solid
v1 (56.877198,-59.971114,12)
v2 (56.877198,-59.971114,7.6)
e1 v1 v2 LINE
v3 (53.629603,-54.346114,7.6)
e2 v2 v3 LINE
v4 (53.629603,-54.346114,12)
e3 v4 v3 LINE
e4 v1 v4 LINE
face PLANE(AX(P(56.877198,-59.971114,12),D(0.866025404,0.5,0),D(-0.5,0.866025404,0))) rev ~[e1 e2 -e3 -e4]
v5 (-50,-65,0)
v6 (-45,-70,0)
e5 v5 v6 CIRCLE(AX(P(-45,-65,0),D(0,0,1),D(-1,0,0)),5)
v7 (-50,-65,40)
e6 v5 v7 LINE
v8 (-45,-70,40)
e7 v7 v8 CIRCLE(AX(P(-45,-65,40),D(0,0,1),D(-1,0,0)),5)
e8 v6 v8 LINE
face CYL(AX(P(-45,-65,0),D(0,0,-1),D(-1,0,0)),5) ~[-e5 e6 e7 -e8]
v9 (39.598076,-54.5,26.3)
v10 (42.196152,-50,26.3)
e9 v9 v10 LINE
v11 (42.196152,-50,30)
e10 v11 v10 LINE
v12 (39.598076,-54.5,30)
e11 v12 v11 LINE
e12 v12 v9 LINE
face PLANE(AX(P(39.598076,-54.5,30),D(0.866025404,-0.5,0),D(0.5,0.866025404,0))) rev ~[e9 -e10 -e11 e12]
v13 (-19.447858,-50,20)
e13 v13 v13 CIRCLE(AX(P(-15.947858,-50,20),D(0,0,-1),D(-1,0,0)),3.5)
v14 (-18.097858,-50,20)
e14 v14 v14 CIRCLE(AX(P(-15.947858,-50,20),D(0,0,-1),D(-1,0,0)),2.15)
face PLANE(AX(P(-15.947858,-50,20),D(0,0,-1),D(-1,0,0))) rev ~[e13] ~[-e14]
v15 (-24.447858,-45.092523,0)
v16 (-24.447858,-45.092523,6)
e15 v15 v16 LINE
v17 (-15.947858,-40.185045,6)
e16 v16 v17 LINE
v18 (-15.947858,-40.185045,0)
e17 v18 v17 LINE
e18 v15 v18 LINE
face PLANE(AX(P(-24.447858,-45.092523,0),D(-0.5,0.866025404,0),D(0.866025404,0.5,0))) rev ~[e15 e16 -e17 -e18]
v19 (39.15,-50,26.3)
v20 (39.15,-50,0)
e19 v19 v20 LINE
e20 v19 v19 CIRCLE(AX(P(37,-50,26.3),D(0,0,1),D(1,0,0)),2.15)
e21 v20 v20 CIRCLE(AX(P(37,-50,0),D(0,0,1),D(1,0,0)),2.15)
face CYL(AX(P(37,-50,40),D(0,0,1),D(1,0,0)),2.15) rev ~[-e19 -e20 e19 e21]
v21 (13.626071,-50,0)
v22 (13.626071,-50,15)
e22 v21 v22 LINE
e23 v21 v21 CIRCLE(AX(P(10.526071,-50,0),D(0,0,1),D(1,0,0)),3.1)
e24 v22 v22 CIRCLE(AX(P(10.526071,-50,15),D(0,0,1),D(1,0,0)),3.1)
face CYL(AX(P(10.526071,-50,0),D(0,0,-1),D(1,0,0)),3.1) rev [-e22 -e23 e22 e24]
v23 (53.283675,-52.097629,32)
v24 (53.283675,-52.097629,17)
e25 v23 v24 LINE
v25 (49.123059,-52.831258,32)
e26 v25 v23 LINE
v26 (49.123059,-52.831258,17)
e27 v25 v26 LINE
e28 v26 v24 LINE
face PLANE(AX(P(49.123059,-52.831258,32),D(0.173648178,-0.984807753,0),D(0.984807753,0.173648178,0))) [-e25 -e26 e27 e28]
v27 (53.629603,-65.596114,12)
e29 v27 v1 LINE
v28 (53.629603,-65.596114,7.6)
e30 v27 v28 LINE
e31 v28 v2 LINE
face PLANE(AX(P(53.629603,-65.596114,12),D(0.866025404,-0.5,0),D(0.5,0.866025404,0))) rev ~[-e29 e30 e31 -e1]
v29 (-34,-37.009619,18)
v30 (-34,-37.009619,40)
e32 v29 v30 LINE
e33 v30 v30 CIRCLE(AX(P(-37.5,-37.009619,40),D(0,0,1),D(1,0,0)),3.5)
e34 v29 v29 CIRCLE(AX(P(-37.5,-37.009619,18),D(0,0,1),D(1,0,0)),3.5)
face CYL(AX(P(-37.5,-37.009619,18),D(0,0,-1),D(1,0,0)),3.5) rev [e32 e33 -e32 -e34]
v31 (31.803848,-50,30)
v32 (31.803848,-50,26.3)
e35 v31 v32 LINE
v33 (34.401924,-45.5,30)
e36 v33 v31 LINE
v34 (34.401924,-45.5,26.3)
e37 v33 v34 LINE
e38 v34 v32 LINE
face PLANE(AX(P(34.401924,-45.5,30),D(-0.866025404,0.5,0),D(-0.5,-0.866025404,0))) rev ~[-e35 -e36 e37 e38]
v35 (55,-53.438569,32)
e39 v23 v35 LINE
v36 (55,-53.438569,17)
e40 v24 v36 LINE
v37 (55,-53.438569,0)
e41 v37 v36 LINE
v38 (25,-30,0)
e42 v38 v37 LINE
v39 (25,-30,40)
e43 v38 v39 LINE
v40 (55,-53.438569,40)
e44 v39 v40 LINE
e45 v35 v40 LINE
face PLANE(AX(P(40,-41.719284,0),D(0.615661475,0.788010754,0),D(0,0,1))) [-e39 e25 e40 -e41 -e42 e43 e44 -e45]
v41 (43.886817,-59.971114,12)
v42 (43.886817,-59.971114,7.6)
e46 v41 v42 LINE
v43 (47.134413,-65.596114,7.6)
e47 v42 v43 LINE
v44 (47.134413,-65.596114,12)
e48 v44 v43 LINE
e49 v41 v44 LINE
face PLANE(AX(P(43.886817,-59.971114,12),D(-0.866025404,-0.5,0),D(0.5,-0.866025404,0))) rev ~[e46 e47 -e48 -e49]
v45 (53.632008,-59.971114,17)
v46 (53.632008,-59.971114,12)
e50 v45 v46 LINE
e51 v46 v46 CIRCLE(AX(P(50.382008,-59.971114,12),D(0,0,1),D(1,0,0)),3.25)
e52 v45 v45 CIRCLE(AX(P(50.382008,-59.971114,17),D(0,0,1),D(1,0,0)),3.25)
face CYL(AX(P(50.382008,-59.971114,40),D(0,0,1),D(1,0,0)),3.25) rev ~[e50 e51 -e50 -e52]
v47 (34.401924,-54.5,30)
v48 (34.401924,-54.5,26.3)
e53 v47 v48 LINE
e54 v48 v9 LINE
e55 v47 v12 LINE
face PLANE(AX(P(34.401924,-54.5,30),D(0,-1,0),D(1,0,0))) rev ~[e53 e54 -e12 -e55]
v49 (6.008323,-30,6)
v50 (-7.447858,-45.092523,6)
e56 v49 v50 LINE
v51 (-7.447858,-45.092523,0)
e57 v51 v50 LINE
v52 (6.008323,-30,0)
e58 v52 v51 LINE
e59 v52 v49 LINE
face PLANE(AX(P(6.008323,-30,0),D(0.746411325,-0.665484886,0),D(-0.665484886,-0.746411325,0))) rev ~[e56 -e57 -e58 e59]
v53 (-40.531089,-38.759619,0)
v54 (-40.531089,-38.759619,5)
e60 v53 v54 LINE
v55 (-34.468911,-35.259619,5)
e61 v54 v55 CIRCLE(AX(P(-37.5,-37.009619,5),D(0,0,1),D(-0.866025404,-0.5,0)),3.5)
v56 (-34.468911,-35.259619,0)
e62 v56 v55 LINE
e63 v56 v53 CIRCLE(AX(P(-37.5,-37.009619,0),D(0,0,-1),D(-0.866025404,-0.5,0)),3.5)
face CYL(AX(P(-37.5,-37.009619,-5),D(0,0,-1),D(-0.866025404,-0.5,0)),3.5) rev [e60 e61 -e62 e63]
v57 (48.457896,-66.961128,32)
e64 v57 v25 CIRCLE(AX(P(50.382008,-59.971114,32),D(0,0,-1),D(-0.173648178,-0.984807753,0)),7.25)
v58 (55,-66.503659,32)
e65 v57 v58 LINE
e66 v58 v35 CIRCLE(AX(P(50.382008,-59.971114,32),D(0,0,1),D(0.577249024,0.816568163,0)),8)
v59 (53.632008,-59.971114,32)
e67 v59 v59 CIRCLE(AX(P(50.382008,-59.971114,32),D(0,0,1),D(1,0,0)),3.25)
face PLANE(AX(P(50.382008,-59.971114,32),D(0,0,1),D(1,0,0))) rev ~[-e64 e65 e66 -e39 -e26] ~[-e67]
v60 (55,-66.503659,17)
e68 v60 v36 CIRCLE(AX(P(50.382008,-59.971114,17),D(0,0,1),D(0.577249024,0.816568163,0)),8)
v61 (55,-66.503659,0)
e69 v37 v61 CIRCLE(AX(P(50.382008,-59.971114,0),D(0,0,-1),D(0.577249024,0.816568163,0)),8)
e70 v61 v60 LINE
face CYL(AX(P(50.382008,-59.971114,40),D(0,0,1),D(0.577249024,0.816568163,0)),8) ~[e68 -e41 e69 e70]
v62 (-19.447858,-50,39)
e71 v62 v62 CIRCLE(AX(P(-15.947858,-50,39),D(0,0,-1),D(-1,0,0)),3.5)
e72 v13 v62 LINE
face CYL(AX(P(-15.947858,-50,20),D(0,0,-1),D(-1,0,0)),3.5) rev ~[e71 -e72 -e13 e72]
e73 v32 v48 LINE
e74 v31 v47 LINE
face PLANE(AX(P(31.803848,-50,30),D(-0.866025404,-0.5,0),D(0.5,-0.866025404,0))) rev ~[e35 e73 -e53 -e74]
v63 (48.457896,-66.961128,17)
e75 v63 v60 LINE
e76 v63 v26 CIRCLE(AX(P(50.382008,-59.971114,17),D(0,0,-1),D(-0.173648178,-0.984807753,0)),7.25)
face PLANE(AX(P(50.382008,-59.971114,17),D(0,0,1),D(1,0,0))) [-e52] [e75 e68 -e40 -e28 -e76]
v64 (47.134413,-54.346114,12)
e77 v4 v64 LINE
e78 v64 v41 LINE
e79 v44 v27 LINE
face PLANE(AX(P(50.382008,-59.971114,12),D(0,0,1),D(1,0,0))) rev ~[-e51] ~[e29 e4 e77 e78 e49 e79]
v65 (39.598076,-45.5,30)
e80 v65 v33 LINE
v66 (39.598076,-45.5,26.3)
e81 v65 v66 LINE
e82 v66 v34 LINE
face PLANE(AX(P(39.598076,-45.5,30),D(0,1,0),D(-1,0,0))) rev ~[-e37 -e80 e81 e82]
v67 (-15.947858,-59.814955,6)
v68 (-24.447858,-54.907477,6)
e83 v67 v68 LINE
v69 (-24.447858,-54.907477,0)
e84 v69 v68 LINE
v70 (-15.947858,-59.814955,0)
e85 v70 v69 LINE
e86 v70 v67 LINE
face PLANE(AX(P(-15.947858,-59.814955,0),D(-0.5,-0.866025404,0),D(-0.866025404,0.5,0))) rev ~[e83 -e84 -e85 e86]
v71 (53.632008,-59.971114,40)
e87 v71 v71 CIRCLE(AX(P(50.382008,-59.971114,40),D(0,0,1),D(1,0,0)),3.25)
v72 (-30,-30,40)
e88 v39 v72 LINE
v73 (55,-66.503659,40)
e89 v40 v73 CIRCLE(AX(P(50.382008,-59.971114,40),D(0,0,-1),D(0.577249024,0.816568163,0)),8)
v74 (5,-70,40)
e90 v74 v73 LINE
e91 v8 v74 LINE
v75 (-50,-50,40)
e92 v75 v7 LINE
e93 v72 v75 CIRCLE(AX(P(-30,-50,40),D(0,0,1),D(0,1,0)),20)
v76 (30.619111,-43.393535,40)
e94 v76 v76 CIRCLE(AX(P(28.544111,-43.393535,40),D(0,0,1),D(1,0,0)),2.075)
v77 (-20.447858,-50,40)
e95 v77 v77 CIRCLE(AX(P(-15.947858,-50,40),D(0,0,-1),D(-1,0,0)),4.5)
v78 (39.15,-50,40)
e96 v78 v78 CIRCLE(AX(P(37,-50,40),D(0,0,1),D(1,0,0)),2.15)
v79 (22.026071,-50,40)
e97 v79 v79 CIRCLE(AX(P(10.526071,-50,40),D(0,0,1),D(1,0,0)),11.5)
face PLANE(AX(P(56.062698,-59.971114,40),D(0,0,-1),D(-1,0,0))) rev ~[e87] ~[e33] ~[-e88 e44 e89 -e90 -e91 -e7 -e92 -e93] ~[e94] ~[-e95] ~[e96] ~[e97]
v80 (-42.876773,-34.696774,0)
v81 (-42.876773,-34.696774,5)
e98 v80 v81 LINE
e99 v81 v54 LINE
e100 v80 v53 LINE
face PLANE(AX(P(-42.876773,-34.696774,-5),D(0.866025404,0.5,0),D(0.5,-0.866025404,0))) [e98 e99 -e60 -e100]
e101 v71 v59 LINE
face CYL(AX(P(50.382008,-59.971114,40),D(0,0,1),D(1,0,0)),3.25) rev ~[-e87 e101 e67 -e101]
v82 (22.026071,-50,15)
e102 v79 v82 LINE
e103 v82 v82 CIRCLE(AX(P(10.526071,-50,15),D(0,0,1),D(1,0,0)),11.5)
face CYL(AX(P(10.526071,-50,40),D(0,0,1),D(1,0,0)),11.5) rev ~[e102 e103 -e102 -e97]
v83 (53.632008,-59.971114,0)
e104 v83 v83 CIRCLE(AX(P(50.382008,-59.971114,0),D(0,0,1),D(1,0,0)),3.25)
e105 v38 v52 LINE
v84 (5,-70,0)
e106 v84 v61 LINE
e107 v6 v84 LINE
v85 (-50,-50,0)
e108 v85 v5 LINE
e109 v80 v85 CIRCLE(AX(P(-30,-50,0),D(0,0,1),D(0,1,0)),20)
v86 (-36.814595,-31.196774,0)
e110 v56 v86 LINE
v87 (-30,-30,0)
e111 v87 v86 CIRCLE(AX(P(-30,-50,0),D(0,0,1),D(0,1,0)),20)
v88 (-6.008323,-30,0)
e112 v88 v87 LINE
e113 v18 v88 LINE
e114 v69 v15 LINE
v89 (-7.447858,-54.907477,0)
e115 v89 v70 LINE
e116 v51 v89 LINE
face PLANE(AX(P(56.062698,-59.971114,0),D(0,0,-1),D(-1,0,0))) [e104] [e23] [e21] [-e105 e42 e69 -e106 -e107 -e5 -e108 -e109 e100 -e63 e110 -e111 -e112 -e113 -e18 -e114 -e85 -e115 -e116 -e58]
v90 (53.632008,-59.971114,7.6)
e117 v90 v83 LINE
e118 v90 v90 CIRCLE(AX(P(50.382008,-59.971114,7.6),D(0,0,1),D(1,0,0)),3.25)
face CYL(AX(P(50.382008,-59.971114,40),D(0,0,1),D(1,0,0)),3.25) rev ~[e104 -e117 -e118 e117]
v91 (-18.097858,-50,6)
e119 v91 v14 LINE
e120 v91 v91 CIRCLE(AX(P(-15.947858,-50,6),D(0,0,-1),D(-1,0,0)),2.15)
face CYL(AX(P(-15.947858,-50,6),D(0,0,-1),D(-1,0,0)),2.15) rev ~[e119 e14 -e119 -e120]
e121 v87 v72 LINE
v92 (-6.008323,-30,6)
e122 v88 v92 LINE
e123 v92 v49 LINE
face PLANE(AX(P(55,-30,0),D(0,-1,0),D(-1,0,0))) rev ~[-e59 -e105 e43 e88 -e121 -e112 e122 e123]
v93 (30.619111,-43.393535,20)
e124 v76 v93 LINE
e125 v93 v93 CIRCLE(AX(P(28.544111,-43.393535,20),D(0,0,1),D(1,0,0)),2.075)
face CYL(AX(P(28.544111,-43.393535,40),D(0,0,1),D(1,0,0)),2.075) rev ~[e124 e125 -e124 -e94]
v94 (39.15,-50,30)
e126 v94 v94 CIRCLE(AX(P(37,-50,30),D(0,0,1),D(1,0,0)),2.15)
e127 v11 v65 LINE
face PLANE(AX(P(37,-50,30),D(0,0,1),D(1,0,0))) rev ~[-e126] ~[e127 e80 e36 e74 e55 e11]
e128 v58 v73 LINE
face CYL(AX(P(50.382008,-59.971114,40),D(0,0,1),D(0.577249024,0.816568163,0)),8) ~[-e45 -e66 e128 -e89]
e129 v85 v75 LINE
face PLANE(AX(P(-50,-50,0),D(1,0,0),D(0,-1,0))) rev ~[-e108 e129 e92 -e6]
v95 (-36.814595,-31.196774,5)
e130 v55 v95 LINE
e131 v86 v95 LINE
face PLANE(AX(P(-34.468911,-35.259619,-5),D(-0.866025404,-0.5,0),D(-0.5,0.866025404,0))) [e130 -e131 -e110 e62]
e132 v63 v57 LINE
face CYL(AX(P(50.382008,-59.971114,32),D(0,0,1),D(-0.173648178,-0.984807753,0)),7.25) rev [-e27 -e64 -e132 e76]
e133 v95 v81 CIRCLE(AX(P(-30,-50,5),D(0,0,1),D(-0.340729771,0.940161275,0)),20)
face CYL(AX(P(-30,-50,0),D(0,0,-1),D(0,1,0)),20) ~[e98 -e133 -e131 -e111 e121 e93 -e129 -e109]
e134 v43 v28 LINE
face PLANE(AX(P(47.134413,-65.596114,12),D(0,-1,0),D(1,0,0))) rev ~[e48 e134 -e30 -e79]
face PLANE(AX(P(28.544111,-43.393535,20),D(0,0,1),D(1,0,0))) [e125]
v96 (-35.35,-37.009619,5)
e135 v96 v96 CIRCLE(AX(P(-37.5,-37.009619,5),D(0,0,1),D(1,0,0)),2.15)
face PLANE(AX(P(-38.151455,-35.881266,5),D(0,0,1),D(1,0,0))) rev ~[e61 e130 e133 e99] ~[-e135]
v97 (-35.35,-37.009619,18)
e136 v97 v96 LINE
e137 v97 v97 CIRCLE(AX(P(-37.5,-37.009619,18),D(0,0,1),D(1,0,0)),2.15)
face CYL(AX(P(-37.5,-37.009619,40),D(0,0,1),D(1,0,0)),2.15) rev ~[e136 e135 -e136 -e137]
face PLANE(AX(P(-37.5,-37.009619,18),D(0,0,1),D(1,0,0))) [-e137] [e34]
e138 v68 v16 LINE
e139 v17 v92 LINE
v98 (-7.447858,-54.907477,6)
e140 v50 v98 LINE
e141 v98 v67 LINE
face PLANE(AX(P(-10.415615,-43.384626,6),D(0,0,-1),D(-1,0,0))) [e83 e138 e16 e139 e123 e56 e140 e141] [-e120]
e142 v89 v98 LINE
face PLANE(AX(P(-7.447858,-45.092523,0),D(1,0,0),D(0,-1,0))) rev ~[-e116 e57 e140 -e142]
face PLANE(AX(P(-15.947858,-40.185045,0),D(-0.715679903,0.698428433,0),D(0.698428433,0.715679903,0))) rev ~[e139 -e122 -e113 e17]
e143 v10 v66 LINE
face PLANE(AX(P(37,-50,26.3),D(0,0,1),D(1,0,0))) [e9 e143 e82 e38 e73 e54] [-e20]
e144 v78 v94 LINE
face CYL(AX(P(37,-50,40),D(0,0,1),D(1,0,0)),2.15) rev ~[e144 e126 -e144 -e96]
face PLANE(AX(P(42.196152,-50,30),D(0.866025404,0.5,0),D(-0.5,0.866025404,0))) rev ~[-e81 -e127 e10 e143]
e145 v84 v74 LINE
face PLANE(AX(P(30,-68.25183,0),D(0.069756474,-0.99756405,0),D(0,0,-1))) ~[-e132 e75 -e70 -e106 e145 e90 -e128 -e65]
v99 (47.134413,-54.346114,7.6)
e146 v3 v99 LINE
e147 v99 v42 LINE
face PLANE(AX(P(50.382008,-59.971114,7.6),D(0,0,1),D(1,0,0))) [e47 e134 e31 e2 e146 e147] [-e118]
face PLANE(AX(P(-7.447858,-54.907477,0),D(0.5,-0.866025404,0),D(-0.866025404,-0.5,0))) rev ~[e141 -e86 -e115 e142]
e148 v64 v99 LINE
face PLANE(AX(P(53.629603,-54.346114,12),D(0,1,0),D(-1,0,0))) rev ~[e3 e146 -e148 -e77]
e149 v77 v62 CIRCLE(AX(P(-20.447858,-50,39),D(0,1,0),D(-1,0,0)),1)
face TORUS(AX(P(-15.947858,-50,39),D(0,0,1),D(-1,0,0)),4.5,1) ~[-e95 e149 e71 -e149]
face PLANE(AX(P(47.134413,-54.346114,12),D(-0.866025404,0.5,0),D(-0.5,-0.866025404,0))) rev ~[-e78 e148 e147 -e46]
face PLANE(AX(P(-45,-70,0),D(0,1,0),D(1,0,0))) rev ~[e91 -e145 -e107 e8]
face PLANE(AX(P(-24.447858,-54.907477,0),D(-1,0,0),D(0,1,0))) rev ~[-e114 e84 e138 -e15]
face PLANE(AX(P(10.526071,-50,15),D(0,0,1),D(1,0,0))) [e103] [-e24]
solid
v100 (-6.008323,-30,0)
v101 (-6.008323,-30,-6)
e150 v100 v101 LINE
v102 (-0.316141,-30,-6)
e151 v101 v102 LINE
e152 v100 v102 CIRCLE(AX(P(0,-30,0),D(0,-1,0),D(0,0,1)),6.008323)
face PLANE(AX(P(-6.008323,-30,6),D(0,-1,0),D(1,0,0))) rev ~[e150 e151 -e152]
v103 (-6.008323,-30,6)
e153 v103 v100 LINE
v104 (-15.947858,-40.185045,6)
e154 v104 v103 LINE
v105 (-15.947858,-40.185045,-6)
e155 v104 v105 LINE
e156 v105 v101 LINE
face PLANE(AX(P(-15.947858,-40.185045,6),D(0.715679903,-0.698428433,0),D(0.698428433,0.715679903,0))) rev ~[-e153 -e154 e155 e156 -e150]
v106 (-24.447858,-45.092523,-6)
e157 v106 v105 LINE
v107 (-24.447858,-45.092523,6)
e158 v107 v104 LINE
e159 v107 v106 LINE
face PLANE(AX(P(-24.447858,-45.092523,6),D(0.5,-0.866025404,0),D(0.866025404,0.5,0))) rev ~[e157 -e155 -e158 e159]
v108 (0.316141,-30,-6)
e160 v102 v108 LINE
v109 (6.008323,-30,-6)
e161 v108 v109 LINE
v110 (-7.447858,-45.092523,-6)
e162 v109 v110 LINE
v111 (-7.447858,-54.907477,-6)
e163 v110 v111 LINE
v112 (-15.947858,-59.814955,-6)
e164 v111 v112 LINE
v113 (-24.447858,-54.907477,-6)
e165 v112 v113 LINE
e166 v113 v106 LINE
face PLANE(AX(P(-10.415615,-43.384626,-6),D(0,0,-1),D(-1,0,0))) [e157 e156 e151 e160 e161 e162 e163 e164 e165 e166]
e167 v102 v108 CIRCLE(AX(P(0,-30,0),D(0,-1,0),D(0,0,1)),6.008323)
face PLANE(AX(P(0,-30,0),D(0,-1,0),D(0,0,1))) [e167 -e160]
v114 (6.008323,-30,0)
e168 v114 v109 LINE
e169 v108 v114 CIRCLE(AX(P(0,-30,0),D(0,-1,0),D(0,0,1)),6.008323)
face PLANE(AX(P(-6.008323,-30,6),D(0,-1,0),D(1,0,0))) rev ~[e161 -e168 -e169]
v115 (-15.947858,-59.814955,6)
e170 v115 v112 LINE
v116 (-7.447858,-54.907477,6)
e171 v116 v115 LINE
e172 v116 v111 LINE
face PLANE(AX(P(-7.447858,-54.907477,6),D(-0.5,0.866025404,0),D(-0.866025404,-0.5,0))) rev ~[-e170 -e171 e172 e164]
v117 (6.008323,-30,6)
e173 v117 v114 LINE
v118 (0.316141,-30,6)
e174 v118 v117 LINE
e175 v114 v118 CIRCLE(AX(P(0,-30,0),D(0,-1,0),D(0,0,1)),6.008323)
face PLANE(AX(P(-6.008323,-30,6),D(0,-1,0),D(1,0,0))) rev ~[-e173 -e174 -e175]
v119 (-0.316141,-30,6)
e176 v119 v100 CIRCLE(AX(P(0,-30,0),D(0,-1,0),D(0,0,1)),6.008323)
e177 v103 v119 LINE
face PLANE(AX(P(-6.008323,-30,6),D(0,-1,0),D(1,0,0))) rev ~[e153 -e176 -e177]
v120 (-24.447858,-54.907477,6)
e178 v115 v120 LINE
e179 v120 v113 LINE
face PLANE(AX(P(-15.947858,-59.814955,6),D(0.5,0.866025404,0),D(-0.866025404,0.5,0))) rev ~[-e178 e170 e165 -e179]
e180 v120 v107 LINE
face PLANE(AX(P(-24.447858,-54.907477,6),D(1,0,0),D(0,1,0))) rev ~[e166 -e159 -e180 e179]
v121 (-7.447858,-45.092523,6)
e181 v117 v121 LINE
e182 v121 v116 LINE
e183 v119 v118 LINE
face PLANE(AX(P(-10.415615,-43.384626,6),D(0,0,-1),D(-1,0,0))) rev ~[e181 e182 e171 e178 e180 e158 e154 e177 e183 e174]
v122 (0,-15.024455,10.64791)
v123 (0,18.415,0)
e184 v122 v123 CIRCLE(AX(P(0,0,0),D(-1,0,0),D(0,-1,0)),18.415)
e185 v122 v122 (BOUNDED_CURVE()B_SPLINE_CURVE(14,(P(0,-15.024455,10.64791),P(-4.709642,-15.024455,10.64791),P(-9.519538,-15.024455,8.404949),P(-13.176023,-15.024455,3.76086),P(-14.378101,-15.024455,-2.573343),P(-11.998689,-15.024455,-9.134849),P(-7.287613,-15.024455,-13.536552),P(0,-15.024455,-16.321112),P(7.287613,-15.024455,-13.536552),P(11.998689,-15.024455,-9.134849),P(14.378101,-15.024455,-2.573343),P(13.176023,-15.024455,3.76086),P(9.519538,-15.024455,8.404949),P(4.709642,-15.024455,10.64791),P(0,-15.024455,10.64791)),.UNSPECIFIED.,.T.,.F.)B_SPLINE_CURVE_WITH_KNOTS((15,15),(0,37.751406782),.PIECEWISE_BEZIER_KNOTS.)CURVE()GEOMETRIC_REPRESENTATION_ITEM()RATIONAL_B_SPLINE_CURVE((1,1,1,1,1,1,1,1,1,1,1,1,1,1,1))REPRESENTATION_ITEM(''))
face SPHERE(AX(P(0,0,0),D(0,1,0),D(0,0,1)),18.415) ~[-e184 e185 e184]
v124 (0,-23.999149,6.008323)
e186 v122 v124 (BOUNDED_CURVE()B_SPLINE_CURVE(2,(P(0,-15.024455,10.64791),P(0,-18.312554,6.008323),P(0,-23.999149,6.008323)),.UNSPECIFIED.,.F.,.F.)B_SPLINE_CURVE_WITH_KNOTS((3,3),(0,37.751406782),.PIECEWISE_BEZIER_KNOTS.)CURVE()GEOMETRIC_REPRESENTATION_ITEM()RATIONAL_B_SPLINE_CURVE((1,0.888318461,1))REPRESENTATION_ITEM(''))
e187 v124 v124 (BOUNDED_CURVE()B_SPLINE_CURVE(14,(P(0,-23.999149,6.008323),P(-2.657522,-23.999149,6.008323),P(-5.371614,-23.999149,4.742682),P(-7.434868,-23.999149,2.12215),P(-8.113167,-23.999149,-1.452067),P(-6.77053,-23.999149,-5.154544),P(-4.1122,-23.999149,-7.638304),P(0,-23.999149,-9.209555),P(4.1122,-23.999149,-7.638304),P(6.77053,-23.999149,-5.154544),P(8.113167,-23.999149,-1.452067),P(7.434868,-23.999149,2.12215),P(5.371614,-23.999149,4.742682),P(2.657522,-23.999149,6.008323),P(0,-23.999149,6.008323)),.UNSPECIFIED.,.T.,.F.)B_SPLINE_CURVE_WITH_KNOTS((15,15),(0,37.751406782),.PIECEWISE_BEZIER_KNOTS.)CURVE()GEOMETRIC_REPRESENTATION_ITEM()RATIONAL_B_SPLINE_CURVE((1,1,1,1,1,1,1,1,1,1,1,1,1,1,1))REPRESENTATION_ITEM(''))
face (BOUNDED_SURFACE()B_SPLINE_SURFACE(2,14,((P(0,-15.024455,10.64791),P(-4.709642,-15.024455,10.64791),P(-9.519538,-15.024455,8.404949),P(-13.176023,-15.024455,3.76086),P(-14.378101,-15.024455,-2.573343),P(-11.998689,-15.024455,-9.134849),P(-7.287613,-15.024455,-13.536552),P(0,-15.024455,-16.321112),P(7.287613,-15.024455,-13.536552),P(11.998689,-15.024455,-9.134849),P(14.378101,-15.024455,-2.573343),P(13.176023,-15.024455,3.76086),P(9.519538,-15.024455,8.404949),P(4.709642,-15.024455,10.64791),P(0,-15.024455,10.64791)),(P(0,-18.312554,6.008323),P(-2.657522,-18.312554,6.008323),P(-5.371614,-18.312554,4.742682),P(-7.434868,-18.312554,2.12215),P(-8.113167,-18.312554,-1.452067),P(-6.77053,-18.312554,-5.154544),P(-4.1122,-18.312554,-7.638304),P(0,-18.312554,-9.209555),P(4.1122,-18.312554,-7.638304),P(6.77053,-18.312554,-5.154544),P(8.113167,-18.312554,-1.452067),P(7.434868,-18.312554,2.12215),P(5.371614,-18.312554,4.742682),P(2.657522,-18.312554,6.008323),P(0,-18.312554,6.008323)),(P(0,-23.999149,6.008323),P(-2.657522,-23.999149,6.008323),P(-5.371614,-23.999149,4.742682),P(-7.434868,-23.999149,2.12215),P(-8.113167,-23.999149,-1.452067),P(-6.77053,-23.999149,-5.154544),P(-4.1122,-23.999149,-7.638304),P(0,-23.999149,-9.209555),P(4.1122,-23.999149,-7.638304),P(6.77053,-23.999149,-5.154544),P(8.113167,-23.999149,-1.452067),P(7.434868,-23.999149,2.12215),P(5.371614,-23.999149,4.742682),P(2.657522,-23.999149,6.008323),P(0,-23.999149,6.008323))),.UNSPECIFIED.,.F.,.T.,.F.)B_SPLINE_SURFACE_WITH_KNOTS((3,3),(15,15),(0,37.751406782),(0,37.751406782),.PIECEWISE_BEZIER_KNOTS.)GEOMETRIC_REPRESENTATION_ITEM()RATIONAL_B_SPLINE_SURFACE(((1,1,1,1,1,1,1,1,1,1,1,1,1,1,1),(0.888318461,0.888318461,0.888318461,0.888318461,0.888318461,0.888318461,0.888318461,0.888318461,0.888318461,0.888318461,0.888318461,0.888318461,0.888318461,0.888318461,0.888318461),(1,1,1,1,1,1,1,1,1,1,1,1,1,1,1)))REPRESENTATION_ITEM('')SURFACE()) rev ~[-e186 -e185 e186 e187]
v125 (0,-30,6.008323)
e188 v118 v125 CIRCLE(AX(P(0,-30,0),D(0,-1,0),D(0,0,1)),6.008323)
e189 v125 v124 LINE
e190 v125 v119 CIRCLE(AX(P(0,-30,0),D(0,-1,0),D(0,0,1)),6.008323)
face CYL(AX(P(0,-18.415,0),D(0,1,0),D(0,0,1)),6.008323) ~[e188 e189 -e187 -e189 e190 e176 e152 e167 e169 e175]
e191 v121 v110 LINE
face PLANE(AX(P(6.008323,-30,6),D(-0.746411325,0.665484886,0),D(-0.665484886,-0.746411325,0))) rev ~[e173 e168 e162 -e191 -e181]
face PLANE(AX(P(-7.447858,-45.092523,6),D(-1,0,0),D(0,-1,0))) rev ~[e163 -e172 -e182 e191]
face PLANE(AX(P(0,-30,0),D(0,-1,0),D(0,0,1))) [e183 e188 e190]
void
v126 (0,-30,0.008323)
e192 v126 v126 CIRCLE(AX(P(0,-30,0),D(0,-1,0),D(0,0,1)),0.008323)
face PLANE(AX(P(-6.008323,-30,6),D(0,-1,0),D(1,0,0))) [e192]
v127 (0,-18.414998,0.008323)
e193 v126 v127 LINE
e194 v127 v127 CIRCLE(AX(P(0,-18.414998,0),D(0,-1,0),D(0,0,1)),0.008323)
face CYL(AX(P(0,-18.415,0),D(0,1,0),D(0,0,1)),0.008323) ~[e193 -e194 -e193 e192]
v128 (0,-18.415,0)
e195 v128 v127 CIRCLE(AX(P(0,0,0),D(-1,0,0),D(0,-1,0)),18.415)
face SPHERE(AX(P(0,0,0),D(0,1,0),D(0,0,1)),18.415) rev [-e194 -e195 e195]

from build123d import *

# Parameters (mm, degrees)
BOSS_EXTRUDE1_DEPTH      = 40
SKETCH1_7_W              = 6
SKETCH1_7_H              = 23.17
FILLET3_R                = 11
BOSS_EXTRUDE3_DEPTH      = 6
BOSS_EXTRUDE3_DEPTH_BACK = 6
CUT_EXTRUDE2_DEPTH       = 6
SKETCH15_R               = 2.15
CUT_EXTRUDE9_DEPTH       = 14
CUT_EXTRUDE10_START      = -14
SKETCH15_5_R             = 3.5
SKETCH15_5_R_2           = 2.15
CUT_EXTRUDE10_DEPTH      = 24
FILLET8_R                = 1
SKETCH17_R               = 2.15
CUT_EXTRUDE12_DEPTH      = 57
CUT_EXTRUDE13_START      = -10
CUT_EXTRUDE13_DEPTH      = 3.7
CHAMFER1_SIZE            = 30
CHAMFER1_SIZE2           = 23.438568795
CHAMFER2_SIZE            = 50
CHAMFER2_SIZE2           = 3.496340597
SKETCH20_R               = 3.25
BOSS_EXTRUDE4_DEPTH      = 40
SKETCH20_3_R             = 3.25
CUT_EXTRUDE14_DEPTH      = 40
CUT_EXTRUDE16_START      = -8
SKETCH22_R               = 7.25
CUT_EXTRUDE16_DEPTH      = 15
CUT_EXTRUDE17_START      = -28
CUT_EXTRUDE17_DEPTH      = 4.4
CUT_EXTRUDE18_DEPTH      = 5
CUT_EXTRUDE18_DEPTH_BACK = 5
CUT_EXTRUDE18_START      = -40
CUT_EXTRUDE19_START      = -22
SKETCH24_4_R             = 3.5
CUT_EXTRUDE19_DEPTH      = 22
SKETCH24_6_R             = 2.15
CUT_EXTRUDE20_DEPTH      = 42
CUT_EXTRUDE21_START      = -40
SKETCH27_R               = 3.1
CUT_EXTRUDE21_DEPTH      = 15
SKETCH27_3_R             = 11.5
CUT_EXTRUDE22_DEPTH      = 25
SKETCH27_5_R             = 2.075
CUT_EXTRUDE23_DEPTH      = 20


with BuildPart() as part:
    # Sketch1 → Boss-Extrude1 (new body)
    with BuildSketch(Plane.XY):
        with BuildLine():
            Line((55, -30), (15.948877571, -30))
            Line((15.948877571, -30), (-0.008322998, -30))
            Line((-0.008322998, -30), (-6.008322998, -30))
            Line((-6.008322998, -30), (-15.965523568, -30))
            Line((-15.965523568, -30), (-30, -30))
            ThreePointArc((-30, -30), (-44.142135624, -35.857864376), (-50, -50))
            Line((-50, -50), (-50, -65))
            ThreePointArc((-50, -65), (-48.535533906, -68.535533906), (-45, -70))
            Line((-45, -70), (55, -70))
            Line((55, -70), (55, -30))
        make_face()
    extrude(amount=BOSS_EXTRUDE1_DEPTH)

    # Sketch4<2> → Cut-Extrude2 (cut)
    with BuildSketch(Plane(origin=(0, 0, 0), x_dir=(-1, 0, 0), z_dir=(0, 0, -1))):
        Polygon((7.447857811, -45.092522712), (7.447857811, -54.907477288), (15.947857811, -59.814954576), (24.447857811, -54.907477288), (24.447857811, -45.092522712), (15.947857811, -40.185045424), (6.008322998, -30), (-6.008322998, -30), align=None)
    extrude(amount=-CUT_EXTRUDE2_DEPTH, mode=Mode.SUBTRACT)

    # Sketch15 → Cut-Extrude9 (cut)
    with BuildSketch(Plane(origin=(0, 0, 6), x_dir=(-1, 0, 0), z_dir=(0, 0, -1))):
        with Locations((15.947857811, -50)):
            Circle(SKETCH15_R)
    extrude(amount=-CUT_EXTRUDE9_DEPTH, mode=Mode.SUBTRACT)

    # Sketch15<5> → Cut-Extrude10 (cut)
    # profile 1 of 2: a face of its own
    with BuildSketch(Plane(origin=(0, 0, 6), x_dir=(-1, 0, 0), z_dir=(0, 0, -1)).offset(CUT_EXTRUDE10_START)):
        with Locations((15.947857811, -50)):
            Circle(SKETCH15_5_R)
        with Locations((15.947857811, -50)):
            Circle(SKETCH15_5_R_2, mode=Mode.SUBTRACT)
    # profile 2 of 2: a face of its own
    with BuildSketch(Plane(origin=(0, 0, 6), x_dir=(-1, 0, 0), z_dir=(0, 0, -1)).offset(CUT_EXTRUDE10_START)):
        with Locations((15.947857811, -50)):
            Circle(SKETCH15_5_R_2)
    extrude(amount=-CUT_EXTRUDE10_DEPTH, mode=Mode.SUBTRACT)

    # Fillet8
    fillet8_edges = [part.edges().sort_by_distance(p)[0] for p in [
        (-12.447857811, -50, 40),
    ]]
    fillet(fillet8_edges, radius=FILLET8_R)

    # Sketch17 → Cut-Extrude12 (cut)
    with BuildSketch(Plane.XY.offset(40)):
        with Locations((37, -50)):
            Circle(SKETCH17_R)
    extrude(amount=-CUT_EXTRUDE12_DEPTH, mode=Mode.SUBTRACT)

    # Sketch17<4> → Cut-Extrude13 (cut)
    with BuildSketch(Plane.XY.offset(40).offset(CUT_EXTRUDE13_START)):
        Polygon((42.196152423, -50), (39.598076211, -45.5), (34.401923789, -45.5), (31.803847577, -50), (34.401923789, -54.5), (39.598076211, -54.5), align=None)
    extrude(amount=-CUT_EXTRUDE13_DEPTH, mode=Mode.SUBTRACT)

    # Chamfer1
    chamfer1_edges = [part.edges().sort_by_distance(p)[0] for p in [
        (55, -30, 20),
    ]]
    chamfer1_side = [part.faces().sort_by_distance(p)[0] for p in [
        (12.770815955, -30, 20.368309699),
    ]]
    chamfer(chamfer1_edges, length=CHAMFER1_SIZE, length2=CHAMFER1_SIZE2, reference=chamfer1_side[0])

    # Chamfer2
    chamfer2_edges = [part.edges().sort_by_distance(p)[0] for p in [
        (55, -70, 20),
    ]]
    chamfer2_side = [part.faces().sort_by_distance(p)[0] for p in [
        (5, -70, 20),
    ]]
    chamfer(chamfer2_edges, length=CHAMFER2_SIZE, length2=CHAMFER2_SIZE2, reference=chamfer2_side[0])

    # Sketch20 → Boss-Extrude4 (add)
    with BuildSketch(Plane.XY.offset(40)):
        with Locations((50.382007811, -59.971114099)):
            Circle(SKETCH20_R)
        with BuildLine():
            ThreePointArc((55, -53.438568795), (58.382007811, -59.971114099), (55, -66.503659403))
            Line((55, -66.503659403), (55, -53.438568795))
        make_face()
    extrude(amount=-BOSS_EXTRUDE4_DEPTH)

    # Sketch20<3> → Cut-Extrude14 (cut)
    with BuildSketch(Plane.XY.offset(40)):
        with Locations((50.382007811, -59.971114099)):
            Circle(SKETCH20_3_R)
    extrude(amount=-CUT_EXTRUDE14_DEPTH, mode=Mode.SUBTRACT)

    # Sketch22 → Cut-Extrude16 (cut)
    with BuildSketch(Plane.XY.offset(40).offset(CUT_EXTRUDE16_START)):
        with Locations((50.382007811, -59.971114099)):
            Circle(SKETCH22_R)
        with BuildLine():
            Line((49.123058523, -52.83125789), (67.851672672, -49.528897904))
            Line((67.851672672, -49.528897904), (67.851672672, -70.413330294))
            Line((67.851672672, -70.413330294), (49.123058523, -67.110970308))
            ThreePointArc((49.123058523, -67.110970308), (43.132007811, -59.971114099), (49.123058523, -52.83125789))
        make_face()
        Polygon((56.87719834, -59.971114099), (53.629603076, -54.346114099), (47.134412547, -54.346114099), (43.886817283, -59.971114099), (47.134412547, -65.596114099), (53.629603076, -65.596114099), align=None)
    extrude(amount=-CUT_EXTRUDE16_DEPTH, mode=Mode.SUBTRACT)

    # Sketch22<3> → Cut-Extrude17 (cut)
    with BuildSketch(Plane.XY.offset(40).offset(CUT_EXTRUDE17_START)):
        Polygon((56.87719834, -59.971114099), (53.629603076, -54.346114099), (47.134412547, -54.346114099), (43.886817283, -59.971114099), (47.134412547, -65.596114099), (53.629603076, -65.596114099), align=None)
    extrude(amount=-CUT_EXTRUDE17_DEPTH, mode=Mode.SUBTRACT)

    # Sketch24 → Cut-Extrude18 (cut, two sides: drawn at the far end of the back side and taken through both)
    with BuildSketch(Plane.XY.offset(40).offset(CUT_EXTRUDE18_START - CUT_EXTRUDE18_DEPTH_BACK)):
        with BuildLine():
            Line((-34.468911087, -35.259618943), (-36.814595421, -31.196774499))
            ThreePointArc((-36.814595421, -31.196774499), (-40, -32.679491924), (-42.876773247, -34.696774499))
            Line((-42.876773247, -34.696774499), (-40.531088913, -38.759618943))
            ThreePointArc((-40.531088913, -38.759618943), (-35.75, -40.040707856), (-34.468911087, -35.259618943))
        make_face()
    extrude(amount=CUT_EXTRUDE18_DEPTH + CUT_EXTRUDE18_DEPTH_BACK, mode=Mode.SUBTRACT)

    # Sketch24<4> → Cut-Extrude19 (cut)
    with BuildSketch(Plane.XY.offset(40).offset(CUT_EXTRUDE19_START)):
        with Locations((-37.5, -37.009618943)):
            Circle(SKETCH24_4_R)
    extrude(amount=CUT_EXTRUDE19_DEPTH, mode=Mode.SUBTRACT)

    # Sketch24<6> → Cut-Extrude20 (cut)
    with BuildSketch(Plane.XY.offset(40)):
        with Locations((-37.5, -37.009618943)):
            Circle(SKETCH24_6_R)
    extrude(amount=-CUT_EXTRUDE20_DEPTH, mode=Mode.SUBTRACT)

    # Sketch27 → Cut-Extrude21 (cut)
    with BuildSketch(Plane.XY.offset(40).offset(CUT_EXTRUDE21_START)):
        with Locations((10.526071095, -50)):
            Circle(SKETCH27_R)
    extrude(amount=CUT_EXTRUDE21_DEPTH, mode=Mode.SUBTRACT)

    # Sketch27<3> → Cut-Extrude22 (cut)
    with BuildSketch(Plane.XY.offset(40)):
        with Locations((10.526071095, -50)):
            Circle(SKETCH27_3_R)
    extrude(amount=-CUT_EXTRUDE22_DEPTH, mode=Mode.SUBTRACT)

    # Sketch27<5> → Cut-Extrude23 (cut)
    with BuildSketch(Plane.XY.offset(40)):
        with Locations((28.544110647, -43.393535189)):
            Circle(SKETCH27_5_R)
    extrude(amount=-CUT_EXTRUDE23_DEPTH, mode=Mode.SUBTRACT)


with BuildPart() as body_2:
    # Sketch1<7> → Revolve8 (revolve)
    with BuildSketch(Plane.XY, mode=Mode.PRIVATE) as revolve8_sk:
        with BuildLine():
            Line((0, 18.415), (0, -18.415))
            ThreePointArc((0, -18.415), (-18.415, 0), (0, 18.415))
        make_face()
        with Locations((-3.008322998, -18.415)):
            Rectangle(SKETCH1_7_W, SKETCH1_7_H)
    revolve(revolve8_sk.sketch.rotate(Axis((0, 18.415, 0), (0, -1, 0)), 270), axis=Axis((0, 18.415, 0), (0, -1, 0)))

    # Fillet3
    fillet3_edges = [body_2.edges().sort_by_distance(p)[0] for p in [
        (0, -17.407247908, -6.008322998),
    ]]
    fillet(fillet3_edges, radius=FILLET3_R)

    # Sketch4 → Boss-Extrude3 (add, two sides: drawn at the far end of the back side and taken through both)
    with BuildSketch(Plane(origin=(0, 0, 0), x_dir=(-1, 0, 0), z_dir=(0, 0, -1)).offset(-BOSS_EXTRUDE3_DEPTH_BACK)):
        Polygon((7.447857811, -45.092522712), (7.447857811, -54.907477288), (15.947857811, -59.814954576), (24.447857811, -54.907477288), (24.447857811, -45.092522712), (15.947857811, -40.185045424), (6.008322998, -30), (-6.008322998, -30), align=None)
    extrude(amount=BOSS_EXTRUDE3_DEPTH + BOSS_EXTRUDE3_DEPTH_BACK)


solid = Compound([part.part, body_2.part])
